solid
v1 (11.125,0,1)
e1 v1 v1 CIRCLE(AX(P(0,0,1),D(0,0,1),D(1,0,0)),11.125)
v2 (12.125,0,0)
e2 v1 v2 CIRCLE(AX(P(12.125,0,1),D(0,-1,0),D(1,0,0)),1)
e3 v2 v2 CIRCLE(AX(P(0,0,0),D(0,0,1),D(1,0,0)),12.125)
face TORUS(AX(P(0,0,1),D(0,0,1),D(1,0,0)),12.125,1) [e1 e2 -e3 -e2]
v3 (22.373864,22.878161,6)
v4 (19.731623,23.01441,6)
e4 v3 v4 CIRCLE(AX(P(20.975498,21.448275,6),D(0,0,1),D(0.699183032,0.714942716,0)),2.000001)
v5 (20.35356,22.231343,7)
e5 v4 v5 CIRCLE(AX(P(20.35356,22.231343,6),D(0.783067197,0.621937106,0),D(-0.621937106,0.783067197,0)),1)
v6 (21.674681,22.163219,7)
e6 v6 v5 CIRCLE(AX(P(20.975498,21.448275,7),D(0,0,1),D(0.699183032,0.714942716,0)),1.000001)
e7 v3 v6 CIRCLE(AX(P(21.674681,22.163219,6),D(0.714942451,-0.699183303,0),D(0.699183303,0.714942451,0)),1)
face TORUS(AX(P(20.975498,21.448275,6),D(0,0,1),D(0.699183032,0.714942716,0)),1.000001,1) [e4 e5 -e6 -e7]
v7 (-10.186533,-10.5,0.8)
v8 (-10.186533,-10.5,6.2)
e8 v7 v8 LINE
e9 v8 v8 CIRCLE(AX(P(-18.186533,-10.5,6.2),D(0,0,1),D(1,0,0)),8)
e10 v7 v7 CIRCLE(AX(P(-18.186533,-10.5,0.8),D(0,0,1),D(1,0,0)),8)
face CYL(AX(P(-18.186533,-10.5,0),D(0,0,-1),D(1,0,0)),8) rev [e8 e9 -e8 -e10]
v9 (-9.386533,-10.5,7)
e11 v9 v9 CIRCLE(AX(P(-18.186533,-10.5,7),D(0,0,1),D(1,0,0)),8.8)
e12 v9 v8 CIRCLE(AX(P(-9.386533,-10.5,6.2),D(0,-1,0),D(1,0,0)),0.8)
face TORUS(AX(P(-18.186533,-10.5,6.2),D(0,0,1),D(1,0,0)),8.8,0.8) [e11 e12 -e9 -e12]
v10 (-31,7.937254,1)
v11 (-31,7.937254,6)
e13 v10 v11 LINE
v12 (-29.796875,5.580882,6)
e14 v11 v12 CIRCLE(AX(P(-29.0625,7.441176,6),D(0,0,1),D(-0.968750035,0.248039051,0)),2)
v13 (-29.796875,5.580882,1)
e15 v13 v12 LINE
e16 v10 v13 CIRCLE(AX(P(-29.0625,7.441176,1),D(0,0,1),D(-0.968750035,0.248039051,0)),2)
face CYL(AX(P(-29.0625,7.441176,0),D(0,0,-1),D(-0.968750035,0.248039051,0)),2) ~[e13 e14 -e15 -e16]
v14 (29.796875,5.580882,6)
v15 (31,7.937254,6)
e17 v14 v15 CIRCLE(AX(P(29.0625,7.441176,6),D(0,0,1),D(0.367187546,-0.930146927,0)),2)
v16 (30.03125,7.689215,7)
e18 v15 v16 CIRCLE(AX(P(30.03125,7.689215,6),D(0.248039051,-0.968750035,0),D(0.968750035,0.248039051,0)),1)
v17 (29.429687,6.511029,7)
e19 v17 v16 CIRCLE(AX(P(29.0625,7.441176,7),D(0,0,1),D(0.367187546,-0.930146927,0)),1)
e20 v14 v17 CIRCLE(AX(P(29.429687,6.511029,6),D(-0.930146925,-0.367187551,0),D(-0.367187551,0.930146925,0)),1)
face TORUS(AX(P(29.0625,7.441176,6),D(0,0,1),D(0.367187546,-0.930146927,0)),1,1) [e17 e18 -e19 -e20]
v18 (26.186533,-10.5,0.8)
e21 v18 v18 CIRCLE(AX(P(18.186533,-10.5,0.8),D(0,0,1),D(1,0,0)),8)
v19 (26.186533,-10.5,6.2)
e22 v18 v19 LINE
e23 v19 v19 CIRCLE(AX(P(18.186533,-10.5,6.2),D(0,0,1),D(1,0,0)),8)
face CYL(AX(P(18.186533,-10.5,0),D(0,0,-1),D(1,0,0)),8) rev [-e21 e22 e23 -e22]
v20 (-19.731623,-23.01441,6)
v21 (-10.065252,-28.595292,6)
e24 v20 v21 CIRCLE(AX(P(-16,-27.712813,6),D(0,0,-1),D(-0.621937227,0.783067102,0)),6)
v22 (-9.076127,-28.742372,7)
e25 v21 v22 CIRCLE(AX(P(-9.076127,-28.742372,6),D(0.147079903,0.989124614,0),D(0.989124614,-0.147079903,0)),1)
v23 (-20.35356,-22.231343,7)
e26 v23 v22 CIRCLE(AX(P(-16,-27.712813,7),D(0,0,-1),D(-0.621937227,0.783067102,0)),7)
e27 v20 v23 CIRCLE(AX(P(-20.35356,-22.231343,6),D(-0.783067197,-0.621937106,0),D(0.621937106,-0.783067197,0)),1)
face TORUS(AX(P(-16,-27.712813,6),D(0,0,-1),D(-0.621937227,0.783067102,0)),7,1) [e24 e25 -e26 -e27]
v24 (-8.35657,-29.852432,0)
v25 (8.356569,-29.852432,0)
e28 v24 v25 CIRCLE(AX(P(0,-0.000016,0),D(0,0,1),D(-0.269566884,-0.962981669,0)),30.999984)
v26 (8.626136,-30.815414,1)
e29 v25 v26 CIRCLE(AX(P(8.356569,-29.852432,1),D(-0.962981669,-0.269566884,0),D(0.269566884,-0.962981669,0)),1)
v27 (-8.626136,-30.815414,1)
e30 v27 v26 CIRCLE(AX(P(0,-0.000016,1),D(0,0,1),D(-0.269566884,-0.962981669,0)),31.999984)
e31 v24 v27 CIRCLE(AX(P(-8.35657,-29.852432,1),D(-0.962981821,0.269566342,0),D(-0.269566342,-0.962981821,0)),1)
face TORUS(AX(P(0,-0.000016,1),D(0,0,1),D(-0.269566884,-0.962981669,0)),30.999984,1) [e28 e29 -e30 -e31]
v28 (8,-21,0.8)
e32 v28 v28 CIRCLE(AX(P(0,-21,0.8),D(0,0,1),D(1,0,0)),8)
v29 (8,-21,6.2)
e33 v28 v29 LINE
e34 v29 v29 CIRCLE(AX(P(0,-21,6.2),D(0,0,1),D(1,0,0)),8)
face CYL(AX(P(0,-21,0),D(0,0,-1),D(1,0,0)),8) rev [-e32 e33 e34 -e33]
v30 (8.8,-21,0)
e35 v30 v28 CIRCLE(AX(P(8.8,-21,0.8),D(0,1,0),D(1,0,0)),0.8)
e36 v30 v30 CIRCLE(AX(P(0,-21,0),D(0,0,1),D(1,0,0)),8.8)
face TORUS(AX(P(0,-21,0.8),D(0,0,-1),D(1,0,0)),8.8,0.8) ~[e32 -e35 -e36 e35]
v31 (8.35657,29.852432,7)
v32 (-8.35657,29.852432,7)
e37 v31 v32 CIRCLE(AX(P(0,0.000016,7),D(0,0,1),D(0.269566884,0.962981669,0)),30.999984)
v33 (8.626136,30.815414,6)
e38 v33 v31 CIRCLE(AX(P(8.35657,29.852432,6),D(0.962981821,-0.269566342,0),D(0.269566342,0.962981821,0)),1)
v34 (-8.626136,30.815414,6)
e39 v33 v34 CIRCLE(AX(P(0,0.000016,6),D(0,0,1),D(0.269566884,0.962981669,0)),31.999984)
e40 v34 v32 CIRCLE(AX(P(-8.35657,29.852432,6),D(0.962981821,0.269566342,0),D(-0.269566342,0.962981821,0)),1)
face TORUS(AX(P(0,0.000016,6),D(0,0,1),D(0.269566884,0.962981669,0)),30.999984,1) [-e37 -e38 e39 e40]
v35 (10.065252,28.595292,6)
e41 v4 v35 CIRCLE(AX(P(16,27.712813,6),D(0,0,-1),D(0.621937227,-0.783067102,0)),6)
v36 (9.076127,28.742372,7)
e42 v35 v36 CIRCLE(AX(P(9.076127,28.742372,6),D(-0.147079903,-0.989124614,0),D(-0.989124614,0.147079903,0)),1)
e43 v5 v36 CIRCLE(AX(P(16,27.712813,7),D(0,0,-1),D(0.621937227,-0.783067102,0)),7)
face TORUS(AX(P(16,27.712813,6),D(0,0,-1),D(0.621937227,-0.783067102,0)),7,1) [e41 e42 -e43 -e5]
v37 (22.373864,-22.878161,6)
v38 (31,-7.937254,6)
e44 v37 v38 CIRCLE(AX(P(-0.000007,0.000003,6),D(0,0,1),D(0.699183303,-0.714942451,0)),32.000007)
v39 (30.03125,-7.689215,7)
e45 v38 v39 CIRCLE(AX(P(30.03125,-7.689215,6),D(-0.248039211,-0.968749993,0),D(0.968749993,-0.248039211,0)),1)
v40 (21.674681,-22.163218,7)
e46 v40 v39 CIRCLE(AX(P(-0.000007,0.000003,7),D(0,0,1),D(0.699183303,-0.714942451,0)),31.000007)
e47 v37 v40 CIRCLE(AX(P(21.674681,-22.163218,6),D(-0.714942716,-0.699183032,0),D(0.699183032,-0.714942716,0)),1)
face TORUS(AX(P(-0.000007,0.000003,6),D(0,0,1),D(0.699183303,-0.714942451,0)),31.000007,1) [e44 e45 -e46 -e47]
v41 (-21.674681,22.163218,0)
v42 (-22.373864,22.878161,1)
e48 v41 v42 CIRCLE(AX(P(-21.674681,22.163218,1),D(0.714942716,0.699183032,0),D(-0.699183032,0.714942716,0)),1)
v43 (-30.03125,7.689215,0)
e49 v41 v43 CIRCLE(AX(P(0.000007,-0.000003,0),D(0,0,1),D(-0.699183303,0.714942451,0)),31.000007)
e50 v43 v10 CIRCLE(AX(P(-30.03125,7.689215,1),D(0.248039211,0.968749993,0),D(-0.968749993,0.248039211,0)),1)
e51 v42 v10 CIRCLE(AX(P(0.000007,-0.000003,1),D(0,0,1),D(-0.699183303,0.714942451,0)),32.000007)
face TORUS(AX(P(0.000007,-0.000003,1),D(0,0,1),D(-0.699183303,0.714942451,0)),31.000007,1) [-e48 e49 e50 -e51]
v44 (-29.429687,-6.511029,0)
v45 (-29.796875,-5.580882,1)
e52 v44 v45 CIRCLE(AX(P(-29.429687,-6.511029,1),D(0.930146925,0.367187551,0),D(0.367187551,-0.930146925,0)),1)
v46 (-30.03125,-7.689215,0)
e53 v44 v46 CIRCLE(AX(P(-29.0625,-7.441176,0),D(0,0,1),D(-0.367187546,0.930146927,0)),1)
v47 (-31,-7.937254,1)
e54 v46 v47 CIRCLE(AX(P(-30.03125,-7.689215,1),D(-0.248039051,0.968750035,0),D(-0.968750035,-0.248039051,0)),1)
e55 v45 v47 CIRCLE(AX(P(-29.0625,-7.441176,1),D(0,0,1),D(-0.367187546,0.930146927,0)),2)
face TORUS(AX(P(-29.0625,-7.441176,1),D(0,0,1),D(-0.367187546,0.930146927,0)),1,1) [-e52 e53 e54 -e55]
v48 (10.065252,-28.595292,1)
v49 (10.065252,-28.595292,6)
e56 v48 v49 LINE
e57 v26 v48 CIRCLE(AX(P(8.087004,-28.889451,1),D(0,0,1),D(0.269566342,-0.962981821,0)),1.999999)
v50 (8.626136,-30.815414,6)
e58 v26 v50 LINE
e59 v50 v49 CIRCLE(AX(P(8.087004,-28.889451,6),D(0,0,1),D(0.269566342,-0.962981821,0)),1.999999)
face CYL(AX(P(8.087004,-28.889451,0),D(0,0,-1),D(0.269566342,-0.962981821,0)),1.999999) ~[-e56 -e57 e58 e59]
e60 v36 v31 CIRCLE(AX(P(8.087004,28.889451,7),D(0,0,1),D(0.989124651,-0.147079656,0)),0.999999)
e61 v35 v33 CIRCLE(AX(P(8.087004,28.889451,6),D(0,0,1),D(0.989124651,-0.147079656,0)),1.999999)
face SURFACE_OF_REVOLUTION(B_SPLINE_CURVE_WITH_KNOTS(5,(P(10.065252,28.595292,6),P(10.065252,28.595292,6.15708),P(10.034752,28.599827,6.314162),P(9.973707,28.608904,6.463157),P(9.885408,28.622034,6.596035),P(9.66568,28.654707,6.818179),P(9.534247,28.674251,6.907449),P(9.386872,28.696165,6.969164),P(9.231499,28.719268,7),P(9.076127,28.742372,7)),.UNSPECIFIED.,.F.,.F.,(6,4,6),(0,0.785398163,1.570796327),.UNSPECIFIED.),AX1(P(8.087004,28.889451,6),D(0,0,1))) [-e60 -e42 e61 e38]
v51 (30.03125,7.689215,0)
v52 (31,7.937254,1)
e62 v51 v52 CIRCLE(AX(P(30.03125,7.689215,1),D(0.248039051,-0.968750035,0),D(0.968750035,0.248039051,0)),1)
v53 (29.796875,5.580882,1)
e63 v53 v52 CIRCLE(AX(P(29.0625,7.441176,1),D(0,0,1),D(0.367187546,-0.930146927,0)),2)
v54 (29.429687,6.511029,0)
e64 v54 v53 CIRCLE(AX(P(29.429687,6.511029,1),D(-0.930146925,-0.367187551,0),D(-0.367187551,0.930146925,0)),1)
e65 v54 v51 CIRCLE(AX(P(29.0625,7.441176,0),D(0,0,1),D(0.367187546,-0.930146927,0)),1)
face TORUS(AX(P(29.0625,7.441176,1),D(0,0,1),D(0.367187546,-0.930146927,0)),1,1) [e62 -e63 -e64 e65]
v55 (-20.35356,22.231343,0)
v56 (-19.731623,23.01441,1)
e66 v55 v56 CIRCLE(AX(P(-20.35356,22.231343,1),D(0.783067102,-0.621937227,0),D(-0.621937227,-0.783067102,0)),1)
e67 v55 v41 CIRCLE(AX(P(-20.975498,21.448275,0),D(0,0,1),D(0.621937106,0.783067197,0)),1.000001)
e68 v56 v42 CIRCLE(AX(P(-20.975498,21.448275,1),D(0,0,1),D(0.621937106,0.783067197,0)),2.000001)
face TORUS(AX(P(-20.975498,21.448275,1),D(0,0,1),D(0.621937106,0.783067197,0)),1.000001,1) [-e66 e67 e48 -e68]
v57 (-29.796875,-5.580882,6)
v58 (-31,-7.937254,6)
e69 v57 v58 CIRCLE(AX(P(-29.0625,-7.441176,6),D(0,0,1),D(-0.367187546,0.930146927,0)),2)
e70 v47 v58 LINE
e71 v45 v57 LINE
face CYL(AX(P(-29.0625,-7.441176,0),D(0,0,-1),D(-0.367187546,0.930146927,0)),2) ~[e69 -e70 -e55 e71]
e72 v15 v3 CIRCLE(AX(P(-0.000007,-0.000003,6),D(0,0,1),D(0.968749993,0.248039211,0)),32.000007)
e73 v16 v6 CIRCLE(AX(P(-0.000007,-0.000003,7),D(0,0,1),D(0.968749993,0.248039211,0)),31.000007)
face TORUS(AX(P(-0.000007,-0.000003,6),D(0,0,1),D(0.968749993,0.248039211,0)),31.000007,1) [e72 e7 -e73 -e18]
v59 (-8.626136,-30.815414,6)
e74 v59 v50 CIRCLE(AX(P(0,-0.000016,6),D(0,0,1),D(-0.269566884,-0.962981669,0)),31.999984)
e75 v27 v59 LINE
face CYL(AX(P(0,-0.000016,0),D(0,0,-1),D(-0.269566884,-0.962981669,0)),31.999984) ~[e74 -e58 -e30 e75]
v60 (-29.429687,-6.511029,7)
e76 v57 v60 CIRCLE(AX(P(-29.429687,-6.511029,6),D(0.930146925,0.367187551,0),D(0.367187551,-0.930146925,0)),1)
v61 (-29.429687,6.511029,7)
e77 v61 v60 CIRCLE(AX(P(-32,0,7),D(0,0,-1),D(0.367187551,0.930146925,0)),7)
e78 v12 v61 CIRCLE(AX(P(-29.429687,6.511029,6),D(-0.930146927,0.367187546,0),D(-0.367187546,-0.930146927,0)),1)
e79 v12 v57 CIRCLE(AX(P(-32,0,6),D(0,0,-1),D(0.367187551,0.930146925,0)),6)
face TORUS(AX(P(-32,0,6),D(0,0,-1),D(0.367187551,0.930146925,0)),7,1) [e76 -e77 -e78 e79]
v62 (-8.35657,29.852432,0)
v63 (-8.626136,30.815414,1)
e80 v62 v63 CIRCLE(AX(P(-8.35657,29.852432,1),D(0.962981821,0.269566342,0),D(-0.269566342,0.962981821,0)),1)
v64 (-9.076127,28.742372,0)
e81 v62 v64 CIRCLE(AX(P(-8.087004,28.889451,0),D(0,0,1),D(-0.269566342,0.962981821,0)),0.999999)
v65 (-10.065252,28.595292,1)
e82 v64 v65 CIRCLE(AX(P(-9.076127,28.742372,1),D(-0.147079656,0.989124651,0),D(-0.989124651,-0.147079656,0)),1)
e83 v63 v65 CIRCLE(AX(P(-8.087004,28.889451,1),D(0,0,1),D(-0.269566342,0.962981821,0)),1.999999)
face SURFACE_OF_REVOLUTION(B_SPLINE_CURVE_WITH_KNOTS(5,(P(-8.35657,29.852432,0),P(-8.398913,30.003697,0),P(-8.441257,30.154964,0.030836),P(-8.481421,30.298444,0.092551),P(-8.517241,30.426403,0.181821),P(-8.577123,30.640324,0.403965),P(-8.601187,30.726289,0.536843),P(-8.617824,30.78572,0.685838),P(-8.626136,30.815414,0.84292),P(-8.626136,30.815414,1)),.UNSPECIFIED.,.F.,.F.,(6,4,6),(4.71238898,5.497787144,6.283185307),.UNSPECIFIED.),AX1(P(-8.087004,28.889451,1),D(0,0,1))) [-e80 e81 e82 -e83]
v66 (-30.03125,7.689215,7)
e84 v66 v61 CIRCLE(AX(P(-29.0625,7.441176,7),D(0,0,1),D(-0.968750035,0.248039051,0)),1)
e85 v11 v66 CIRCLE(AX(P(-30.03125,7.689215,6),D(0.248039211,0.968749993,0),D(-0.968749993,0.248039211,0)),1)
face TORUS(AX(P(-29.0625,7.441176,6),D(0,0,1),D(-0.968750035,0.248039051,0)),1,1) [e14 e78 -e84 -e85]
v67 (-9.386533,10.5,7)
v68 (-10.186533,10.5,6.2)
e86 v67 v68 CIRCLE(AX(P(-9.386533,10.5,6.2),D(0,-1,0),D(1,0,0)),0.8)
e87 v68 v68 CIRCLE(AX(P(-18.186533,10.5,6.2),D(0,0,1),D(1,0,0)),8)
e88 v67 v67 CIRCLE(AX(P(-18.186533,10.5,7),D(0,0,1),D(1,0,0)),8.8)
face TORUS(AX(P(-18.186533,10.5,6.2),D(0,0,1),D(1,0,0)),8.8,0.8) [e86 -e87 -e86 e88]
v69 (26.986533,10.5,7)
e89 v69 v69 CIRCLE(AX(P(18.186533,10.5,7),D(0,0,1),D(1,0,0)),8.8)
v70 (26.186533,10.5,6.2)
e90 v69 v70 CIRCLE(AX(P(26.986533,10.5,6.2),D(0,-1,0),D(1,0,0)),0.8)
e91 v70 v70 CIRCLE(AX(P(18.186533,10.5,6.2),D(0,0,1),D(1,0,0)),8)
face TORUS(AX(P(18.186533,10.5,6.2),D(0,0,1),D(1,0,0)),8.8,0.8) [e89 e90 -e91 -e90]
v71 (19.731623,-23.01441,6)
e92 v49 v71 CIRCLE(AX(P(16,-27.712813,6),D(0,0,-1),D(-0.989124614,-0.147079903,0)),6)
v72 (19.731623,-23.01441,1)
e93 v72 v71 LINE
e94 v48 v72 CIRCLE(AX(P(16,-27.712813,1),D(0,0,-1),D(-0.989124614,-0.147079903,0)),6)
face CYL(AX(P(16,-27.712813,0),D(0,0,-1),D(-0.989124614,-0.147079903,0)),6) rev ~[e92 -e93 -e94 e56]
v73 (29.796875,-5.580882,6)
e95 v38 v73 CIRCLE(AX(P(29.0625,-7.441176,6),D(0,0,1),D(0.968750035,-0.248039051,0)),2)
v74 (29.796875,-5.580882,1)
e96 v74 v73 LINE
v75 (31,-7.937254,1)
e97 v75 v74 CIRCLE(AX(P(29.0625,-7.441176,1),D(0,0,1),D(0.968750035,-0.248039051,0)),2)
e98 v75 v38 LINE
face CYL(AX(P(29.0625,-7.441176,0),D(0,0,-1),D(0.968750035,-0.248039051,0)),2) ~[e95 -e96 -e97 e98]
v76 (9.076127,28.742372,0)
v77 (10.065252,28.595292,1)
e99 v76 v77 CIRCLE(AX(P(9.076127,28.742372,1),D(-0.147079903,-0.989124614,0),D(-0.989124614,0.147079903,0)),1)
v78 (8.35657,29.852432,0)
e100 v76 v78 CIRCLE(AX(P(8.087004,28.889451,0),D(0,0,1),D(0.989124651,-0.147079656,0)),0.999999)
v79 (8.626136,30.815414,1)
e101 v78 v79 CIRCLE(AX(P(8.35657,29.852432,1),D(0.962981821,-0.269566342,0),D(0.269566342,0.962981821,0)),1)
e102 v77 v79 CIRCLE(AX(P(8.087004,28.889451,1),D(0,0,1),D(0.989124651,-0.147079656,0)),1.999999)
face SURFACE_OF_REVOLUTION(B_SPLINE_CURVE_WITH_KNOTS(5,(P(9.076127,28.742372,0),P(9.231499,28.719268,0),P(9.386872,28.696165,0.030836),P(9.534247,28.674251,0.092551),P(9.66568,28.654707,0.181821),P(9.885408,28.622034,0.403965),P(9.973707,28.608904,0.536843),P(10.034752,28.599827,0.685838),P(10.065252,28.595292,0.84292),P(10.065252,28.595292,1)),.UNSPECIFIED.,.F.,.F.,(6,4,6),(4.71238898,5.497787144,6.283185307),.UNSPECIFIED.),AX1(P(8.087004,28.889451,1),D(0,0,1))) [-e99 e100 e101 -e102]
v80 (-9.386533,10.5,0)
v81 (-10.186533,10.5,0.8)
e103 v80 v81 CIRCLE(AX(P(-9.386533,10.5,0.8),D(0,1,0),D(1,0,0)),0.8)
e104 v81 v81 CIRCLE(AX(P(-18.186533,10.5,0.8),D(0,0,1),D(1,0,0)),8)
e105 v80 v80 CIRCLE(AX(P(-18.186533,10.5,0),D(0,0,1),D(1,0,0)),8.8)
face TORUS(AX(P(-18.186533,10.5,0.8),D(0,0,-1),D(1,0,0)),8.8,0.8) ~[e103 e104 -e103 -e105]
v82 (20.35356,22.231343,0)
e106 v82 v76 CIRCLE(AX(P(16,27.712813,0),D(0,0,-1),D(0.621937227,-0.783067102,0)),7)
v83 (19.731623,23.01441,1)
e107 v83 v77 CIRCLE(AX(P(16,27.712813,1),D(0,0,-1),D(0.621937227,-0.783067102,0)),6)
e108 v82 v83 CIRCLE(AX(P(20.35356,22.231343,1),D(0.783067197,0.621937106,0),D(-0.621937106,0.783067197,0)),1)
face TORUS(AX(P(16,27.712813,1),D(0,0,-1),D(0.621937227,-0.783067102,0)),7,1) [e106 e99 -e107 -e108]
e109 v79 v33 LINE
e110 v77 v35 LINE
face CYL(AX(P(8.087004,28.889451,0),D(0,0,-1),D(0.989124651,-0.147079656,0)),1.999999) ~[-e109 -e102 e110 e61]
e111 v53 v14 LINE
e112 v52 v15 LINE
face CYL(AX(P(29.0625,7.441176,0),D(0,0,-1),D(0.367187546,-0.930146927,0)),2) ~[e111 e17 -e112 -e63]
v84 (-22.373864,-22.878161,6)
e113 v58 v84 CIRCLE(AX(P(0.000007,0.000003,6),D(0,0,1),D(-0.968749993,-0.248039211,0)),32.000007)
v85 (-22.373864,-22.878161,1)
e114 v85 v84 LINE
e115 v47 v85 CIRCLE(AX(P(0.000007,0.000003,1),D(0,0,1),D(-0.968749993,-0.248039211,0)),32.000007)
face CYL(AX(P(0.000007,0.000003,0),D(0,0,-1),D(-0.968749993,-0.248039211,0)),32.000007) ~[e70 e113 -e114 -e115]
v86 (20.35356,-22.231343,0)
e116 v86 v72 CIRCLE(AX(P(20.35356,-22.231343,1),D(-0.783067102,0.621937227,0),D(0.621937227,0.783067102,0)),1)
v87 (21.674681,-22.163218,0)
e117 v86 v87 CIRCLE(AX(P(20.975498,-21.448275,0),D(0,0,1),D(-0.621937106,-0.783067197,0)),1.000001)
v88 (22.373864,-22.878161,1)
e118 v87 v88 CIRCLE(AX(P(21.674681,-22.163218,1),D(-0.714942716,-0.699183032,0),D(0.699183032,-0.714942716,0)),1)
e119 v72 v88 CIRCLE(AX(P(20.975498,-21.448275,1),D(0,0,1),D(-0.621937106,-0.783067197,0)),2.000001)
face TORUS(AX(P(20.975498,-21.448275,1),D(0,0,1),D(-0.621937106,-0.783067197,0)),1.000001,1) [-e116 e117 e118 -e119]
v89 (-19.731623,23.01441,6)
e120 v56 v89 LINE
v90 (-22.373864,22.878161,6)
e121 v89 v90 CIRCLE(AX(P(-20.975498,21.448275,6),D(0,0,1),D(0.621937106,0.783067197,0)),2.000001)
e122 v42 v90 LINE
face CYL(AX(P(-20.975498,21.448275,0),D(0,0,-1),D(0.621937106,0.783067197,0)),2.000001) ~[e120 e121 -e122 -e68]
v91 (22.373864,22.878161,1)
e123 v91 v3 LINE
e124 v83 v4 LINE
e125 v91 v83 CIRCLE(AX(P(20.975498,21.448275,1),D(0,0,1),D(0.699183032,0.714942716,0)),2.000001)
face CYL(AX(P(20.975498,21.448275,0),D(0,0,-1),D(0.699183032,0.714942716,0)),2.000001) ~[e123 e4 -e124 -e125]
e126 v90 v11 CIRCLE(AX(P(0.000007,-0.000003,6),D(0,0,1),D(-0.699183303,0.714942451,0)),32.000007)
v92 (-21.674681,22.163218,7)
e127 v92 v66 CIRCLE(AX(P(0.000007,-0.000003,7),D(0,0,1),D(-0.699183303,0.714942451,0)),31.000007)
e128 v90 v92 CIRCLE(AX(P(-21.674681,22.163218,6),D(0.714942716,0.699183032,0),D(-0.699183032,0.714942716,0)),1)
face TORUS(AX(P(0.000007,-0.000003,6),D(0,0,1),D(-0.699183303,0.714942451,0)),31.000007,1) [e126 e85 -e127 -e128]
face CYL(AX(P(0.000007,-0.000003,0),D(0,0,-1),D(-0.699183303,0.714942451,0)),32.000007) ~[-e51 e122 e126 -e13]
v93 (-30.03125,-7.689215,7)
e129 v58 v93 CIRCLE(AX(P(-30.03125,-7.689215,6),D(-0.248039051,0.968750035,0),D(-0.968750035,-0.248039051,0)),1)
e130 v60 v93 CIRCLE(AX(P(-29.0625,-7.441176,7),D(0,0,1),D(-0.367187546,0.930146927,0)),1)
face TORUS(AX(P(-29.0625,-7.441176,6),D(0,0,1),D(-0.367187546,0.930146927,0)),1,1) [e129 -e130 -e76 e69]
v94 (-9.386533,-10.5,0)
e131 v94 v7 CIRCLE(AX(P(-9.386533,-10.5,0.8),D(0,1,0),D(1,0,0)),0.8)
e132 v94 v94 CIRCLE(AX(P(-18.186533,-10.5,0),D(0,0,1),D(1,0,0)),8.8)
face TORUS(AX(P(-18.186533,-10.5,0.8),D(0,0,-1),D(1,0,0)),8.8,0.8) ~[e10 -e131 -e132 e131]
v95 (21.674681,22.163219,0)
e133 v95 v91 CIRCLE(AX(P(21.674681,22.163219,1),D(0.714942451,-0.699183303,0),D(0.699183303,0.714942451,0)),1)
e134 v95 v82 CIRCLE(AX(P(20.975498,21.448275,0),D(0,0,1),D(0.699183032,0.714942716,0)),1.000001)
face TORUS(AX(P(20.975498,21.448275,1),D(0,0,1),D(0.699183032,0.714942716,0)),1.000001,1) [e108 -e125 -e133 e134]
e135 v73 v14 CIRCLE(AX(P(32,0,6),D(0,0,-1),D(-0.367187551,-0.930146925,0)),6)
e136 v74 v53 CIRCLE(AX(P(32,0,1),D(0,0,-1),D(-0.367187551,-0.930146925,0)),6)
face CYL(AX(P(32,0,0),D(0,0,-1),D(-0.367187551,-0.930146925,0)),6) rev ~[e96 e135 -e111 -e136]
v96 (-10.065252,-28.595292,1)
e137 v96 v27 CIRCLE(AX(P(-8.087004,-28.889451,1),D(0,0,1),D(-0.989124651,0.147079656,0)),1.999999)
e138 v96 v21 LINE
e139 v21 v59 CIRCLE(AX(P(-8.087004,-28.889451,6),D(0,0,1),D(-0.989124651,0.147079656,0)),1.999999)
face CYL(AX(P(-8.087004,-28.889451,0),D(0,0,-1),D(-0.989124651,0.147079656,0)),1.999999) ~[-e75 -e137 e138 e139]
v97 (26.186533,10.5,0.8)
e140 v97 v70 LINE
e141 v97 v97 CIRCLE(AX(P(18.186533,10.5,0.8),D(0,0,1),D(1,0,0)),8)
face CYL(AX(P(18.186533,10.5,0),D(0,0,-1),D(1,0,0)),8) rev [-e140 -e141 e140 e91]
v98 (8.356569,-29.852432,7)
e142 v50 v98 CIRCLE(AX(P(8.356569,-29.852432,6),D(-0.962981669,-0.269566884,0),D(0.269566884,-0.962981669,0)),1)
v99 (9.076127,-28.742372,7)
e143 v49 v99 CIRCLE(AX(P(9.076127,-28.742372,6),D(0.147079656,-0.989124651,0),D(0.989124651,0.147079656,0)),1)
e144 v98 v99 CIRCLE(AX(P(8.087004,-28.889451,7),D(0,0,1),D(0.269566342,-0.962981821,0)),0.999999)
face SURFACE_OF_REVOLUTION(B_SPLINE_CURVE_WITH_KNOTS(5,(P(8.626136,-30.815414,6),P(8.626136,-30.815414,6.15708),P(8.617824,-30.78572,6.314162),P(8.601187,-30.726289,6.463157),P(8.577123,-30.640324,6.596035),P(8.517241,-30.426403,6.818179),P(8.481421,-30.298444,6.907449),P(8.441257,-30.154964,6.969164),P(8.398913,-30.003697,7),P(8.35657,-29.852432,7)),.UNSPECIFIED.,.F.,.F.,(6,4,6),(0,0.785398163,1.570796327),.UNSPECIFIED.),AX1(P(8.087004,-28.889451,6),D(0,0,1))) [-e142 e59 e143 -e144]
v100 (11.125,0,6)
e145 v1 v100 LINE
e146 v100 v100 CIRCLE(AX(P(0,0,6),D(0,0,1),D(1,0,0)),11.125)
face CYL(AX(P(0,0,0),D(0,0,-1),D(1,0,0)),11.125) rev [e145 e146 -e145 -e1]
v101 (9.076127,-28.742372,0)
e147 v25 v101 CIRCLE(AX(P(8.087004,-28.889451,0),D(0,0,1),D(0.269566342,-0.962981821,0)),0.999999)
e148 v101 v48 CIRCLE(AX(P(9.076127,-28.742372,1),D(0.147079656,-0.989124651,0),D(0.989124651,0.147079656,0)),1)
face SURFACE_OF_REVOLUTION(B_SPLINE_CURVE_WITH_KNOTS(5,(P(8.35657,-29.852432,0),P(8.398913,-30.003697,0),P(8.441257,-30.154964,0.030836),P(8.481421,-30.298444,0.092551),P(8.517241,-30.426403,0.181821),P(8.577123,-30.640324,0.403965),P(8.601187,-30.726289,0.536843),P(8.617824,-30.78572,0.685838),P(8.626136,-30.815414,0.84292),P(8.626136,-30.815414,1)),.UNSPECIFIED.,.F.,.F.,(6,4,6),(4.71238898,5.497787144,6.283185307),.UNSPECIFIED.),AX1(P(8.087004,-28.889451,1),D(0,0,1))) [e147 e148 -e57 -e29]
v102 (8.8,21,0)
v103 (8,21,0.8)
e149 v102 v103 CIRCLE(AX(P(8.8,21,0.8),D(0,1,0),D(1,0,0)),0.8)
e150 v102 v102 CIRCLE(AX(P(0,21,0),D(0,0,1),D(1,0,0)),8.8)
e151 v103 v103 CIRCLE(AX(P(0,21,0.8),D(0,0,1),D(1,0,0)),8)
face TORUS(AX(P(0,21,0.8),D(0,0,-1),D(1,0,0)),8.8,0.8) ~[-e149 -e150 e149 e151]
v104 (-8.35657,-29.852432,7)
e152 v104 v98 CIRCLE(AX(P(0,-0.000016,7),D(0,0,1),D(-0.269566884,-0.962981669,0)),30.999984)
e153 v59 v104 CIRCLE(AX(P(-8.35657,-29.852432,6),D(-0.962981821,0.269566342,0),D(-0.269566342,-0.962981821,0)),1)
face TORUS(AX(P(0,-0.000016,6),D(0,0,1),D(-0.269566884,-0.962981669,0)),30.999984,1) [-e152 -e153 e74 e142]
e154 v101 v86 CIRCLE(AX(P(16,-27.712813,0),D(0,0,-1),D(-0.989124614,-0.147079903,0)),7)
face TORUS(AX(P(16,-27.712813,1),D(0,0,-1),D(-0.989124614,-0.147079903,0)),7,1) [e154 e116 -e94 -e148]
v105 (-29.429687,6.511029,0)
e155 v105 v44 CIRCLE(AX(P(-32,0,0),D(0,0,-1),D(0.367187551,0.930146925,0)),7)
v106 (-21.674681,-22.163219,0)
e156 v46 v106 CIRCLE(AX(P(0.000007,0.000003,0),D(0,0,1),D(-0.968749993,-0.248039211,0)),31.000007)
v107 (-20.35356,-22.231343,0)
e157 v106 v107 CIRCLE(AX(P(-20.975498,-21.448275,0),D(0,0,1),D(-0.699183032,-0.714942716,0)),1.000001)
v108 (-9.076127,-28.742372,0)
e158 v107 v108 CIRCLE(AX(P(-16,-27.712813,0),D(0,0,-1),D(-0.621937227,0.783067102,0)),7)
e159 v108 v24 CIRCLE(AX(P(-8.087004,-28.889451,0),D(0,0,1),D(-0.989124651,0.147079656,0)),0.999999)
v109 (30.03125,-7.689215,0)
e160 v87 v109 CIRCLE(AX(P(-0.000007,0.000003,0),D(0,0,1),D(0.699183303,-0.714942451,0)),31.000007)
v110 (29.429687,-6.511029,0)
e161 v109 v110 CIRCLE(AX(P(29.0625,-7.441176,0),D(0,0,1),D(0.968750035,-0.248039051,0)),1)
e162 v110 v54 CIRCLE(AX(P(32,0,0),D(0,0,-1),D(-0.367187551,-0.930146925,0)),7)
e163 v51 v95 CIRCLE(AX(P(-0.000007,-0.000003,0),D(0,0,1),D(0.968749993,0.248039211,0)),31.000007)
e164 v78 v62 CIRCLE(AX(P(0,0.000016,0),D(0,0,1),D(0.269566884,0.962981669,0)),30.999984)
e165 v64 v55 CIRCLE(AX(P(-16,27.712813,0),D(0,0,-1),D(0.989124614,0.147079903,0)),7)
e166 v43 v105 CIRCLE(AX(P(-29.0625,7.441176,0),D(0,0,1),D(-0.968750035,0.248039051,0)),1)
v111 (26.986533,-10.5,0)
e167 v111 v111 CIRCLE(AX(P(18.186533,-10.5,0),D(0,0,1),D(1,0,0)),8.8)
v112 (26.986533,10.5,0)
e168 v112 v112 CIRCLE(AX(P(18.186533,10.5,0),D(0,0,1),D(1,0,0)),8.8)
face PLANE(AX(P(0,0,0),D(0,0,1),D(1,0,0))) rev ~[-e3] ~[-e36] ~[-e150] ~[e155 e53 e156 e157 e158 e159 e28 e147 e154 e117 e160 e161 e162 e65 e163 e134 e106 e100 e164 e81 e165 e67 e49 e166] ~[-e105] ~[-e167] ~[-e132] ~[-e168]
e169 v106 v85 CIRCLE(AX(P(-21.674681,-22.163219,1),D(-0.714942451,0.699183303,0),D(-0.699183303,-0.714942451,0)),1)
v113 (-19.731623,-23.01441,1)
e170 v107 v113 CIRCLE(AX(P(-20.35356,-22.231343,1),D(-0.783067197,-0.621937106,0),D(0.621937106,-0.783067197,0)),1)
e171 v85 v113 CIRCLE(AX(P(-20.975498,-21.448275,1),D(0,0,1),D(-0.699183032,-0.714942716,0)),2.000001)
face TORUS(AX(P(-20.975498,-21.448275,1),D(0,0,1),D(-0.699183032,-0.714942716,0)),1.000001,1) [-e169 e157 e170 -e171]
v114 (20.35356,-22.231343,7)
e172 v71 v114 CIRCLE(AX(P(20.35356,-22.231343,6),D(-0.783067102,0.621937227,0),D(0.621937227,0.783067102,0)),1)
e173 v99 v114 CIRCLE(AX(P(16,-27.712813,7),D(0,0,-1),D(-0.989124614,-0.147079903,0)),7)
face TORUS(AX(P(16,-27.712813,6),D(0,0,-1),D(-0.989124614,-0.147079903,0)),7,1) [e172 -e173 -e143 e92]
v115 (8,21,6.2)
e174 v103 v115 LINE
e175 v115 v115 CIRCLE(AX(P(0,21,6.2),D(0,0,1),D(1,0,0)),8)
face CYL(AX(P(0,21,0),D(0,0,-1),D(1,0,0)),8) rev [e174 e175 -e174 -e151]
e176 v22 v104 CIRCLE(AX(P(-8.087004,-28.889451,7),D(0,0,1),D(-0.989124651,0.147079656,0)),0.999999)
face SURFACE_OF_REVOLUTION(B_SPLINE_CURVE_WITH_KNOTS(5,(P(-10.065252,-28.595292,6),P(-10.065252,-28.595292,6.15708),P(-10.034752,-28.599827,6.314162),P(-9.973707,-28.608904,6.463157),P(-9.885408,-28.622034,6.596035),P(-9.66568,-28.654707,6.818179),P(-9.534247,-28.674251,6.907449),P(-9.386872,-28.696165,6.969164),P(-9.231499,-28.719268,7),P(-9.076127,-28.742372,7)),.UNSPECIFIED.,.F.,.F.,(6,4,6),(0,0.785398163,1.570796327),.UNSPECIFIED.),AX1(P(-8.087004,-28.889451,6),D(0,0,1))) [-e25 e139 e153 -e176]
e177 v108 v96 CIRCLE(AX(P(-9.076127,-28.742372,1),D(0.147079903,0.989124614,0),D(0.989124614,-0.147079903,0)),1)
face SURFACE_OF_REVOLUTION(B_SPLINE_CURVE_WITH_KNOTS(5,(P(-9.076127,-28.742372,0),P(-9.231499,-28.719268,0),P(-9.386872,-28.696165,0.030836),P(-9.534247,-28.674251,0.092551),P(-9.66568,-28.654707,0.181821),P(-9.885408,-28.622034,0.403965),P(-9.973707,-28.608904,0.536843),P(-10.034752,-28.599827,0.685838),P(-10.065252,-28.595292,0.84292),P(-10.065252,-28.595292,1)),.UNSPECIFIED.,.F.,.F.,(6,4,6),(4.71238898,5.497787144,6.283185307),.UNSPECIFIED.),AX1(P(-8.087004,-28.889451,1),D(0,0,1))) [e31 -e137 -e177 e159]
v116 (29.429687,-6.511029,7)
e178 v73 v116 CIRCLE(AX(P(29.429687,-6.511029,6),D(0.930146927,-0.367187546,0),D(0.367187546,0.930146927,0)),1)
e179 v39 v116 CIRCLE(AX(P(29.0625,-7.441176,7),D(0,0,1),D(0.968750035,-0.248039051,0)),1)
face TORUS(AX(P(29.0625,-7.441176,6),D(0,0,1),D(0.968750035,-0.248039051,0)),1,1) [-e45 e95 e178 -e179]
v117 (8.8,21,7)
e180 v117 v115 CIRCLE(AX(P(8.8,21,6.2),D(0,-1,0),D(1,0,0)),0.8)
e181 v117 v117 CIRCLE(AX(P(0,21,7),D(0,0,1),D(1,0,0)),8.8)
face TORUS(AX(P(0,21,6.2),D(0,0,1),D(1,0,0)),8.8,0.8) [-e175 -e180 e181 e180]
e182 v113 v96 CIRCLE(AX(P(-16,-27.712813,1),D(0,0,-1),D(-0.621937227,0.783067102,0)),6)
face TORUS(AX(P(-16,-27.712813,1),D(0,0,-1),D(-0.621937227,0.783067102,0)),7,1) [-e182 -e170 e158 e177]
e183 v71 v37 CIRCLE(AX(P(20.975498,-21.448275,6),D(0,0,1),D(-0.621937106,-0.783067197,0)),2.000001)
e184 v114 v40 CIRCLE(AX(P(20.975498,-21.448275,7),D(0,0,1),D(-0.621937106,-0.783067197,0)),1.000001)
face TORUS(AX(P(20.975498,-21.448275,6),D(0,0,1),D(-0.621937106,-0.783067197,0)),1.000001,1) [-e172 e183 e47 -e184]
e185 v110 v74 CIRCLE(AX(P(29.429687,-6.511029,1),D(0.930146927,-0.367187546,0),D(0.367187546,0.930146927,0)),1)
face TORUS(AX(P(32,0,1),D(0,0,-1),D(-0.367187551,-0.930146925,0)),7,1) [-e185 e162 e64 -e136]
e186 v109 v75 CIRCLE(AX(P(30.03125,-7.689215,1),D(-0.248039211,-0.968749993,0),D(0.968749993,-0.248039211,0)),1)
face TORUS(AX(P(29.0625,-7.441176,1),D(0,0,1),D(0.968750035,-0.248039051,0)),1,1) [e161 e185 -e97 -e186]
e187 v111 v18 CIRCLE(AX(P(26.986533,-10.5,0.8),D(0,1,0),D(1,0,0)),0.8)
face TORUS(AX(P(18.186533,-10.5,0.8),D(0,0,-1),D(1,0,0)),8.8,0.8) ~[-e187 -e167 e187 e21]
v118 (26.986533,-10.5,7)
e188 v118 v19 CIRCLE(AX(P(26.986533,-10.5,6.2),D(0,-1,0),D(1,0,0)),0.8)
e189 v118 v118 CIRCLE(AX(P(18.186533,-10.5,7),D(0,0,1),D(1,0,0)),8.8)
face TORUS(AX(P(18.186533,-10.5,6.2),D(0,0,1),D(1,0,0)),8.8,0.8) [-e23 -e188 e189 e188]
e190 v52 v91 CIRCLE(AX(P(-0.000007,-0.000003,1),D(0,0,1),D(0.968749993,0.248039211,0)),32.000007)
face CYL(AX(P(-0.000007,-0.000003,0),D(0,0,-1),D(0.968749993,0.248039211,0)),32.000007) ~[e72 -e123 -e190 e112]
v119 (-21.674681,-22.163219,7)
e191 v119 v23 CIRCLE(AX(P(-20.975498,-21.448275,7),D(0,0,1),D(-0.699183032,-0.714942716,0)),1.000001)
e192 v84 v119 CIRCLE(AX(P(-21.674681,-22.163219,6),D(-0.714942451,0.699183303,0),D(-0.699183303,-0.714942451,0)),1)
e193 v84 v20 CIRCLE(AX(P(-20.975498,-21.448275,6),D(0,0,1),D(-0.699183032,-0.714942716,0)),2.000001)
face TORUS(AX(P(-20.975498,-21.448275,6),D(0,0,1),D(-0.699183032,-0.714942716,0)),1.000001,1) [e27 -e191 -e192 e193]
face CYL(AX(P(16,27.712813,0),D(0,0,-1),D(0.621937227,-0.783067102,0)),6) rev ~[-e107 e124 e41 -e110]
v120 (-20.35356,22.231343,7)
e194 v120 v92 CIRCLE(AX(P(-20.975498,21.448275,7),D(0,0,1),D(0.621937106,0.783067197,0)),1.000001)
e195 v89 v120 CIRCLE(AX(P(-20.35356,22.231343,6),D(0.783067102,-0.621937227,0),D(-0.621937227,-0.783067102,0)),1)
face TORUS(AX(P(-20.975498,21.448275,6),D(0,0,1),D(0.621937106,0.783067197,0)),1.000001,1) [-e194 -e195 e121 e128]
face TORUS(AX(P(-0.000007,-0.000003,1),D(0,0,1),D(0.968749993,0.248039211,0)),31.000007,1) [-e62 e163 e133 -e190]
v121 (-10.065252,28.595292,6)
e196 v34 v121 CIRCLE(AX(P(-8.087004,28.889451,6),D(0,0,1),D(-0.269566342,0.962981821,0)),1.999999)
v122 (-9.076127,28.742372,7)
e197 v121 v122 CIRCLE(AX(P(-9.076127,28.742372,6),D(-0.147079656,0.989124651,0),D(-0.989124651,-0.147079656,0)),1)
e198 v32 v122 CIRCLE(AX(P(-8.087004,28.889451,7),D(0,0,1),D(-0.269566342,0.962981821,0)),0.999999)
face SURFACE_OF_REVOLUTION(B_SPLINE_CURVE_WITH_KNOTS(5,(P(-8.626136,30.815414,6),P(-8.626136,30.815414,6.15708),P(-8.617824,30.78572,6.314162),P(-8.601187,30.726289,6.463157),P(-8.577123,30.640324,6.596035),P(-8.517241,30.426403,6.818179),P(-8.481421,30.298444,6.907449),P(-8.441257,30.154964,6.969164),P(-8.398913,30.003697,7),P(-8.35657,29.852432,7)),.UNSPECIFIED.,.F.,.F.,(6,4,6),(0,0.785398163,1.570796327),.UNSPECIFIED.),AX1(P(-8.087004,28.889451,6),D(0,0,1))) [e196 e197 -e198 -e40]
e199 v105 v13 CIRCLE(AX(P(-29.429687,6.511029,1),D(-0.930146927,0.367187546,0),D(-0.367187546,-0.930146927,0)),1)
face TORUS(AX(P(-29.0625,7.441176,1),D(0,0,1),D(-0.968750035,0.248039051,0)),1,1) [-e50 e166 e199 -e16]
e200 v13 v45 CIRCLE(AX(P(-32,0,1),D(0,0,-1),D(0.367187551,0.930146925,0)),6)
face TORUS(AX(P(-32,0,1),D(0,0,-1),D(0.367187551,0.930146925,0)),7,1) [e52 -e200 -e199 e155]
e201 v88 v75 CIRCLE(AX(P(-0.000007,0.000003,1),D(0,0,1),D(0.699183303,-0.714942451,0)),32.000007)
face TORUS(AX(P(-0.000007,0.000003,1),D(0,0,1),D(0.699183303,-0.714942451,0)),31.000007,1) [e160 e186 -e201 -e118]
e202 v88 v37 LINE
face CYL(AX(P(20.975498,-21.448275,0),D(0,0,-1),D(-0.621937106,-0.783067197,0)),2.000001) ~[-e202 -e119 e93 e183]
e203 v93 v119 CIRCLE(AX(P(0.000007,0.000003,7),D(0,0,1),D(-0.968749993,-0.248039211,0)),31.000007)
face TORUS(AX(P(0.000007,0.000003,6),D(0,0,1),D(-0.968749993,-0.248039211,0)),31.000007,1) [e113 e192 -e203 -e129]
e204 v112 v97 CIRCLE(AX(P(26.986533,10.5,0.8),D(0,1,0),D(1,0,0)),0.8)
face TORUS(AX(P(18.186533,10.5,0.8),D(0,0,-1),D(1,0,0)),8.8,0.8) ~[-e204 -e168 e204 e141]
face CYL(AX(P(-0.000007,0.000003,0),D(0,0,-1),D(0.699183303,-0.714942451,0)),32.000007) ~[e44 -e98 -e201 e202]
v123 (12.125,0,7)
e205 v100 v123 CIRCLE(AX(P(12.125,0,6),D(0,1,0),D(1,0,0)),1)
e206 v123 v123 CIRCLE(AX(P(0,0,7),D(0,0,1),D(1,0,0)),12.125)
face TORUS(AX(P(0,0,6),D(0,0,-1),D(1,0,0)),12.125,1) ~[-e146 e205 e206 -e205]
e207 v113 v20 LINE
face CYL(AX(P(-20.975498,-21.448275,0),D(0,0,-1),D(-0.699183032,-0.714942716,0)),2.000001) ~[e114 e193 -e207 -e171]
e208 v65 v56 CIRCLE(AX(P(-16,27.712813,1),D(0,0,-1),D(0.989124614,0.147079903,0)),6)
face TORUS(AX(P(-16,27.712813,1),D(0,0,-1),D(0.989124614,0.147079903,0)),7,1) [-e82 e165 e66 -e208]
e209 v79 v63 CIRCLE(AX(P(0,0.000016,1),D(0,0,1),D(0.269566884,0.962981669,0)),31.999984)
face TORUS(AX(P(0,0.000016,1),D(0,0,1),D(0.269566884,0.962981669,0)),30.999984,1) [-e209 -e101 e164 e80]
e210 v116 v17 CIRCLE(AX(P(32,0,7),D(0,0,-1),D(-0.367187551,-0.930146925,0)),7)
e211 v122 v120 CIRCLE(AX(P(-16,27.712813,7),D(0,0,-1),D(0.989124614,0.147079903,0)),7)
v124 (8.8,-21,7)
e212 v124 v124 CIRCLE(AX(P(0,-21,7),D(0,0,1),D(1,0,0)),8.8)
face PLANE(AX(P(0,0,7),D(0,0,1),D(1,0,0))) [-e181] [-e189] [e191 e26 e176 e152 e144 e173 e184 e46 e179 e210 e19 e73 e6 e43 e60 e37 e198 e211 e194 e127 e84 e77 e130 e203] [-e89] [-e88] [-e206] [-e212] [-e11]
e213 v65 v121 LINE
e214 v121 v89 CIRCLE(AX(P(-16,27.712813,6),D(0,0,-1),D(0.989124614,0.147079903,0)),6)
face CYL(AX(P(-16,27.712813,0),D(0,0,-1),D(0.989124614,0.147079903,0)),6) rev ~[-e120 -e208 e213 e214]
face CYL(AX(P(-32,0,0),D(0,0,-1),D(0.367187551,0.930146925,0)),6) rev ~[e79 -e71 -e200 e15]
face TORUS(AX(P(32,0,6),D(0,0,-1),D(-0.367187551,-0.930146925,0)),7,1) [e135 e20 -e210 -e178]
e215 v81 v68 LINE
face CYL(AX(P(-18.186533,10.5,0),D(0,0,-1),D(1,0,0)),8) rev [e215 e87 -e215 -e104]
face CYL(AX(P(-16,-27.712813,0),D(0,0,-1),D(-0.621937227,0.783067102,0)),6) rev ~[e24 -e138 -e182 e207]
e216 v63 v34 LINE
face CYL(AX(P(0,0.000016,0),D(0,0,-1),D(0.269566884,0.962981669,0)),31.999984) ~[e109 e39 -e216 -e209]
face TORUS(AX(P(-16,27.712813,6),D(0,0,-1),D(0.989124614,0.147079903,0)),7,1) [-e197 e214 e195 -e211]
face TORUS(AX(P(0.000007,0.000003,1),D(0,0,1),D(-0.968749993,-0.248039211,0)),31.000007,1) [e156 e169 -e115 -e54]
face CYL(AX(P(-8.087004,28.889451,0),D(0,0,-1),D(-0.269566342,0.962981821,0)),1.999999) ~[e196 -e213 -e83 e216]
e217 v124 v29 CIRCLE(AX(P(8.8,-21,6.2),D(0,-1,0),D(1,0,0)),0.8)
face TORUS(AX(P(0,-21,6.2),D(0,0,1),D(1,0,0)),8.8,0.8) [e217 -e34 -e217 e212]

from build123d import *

# Parameters (mm, degrees)
F0_R     = 8
F0_R_2   = 11.125
F1_DEPTH = 7
F2_R     = 1
F3_R     = 0.8
F4_R     = 1


with BuildPart() as f1:
    # F0 (on Top) → F1 (new body)
    with BuildSketch(Plane.XY):
        with BuildLine():
            ThreePointArc((-19.731623, 23.01441), (-21.078492, 23.445622), (-22.373864, 22.878161))
            ThreePointArc((-22.373864, 22.878161), (-27.712813, 16), (-31, 7.937254))
            ThreePointArc((-31, 7.937254), (-30.84375, 6.531699), (-29.796875, 5.580882))
            ThreePointArc((-29.796875, 5.580882), (-26, 0), (-29.796875, -5.580882))
            ThreePointArc((-29.796875, -5.580882), (-30.84375, -6.531699), (-31, -7.937254))
            ThreePointArc((-31, -7.937254), (-27.712813, -16), (-22.373864, -22.878161))
            ThreePointArc((-22.373864, -22.878161), (-21.078492, -23.445622), (-19.731623, -23.01441))
            ThreePointArc((-19.731623, -23.01441), (-13, -22.51666), (-10.065252, -28.595292))
            ThreePointArc((-10.065252, -28.595292), (-9.765258, -29.97732), (-8.626136, -30.815414))
            ThreePointArc((-8.626136, -30.815414), (0, -32), (8.626136, -30.815414))
            ThreePointArc((8.626136, -30.815414), (9.765258, -29.97732), (10.065252, -28.595292))
            ThreePointArc((10.065252, -28.595292), (13, -22.51666), (19.731623, -23.01441))
            ThreePointArc((19.731623, -23.01441), (21.078492, -23.445622), (22.373864, -22.878161))
            ThreePointArc((22.373864, -22.878161), (27.712813, -16), (31, -7.937254))
            ThreePointArc((31, -7.937254), (30.84375, -6.531699), (29.796875, -5.580882))
            ThreePointArc((29.796875, -5.580882), (26, 0), (29.796875, 5.580882))
            ThreePointArc((29.796875, 5.580882), (30.84375, 6.531699), (31, 7.937254))
            ThreePointArc((31, 7.937254), (27.712813, 16), (22.373864, 22.878161))
            ThreePointArc((22.373864, 22.878161), (21.078492, 23.445622), (19.731623, 23.01441))
            ThreePointArc((19.731623, 23.01441), (13, 22.51666), (10.065252, 28.595292))
            ThreePointArc((10.065252, 28.595292), (9.765258, 29.97732), (8.626136, 30.815414))
            ThreePointArc((8.626136, 30.815414), (0, 32), (-8.626136, 30.815414))
            ThreePointArc((-8.626136, 30.815414), (-9.765258, 29.97732), (-10.065252, 28.595292))
            ThreePointArc((-10.065252, 28.595292), (-13, 22.51666), (-19.731623, 23.01441))
        make_face()
        with Locations((-18.186533, -10.5)):
            Circle(F0_R, mode=Mode.SUBTRACT)
        with Locations((0, -21)):
            Circle(F0_R, mode=Mode.SUBTRACT)
        with Locations((18.186533, -10.5)):
            Circle(F0_R, mode=Mode.SUBTRACT)
        with Locations((-18.186533, 10.5)):
            Circle(F0_R, mode=Mode.SUBTRACT)
        Circle(F0_R_2, mode=Mode.SUBTRACT)
        with Locations((18.186533, 10.5)):
            Circle(F0_R, mode=Mode.SUBTRACT)
        with Locations((0, 21)):
            Circle(F0_R, mode=Mode.SUBTRACT)
    extrude(amount=F1_DEPTH)

    # F2
    f2_edges = [f1.edges().sort_by_distance(p)[0] for p in [
        (11.125, 0, 3.5),
        (-11.125, 0, 0),
        (-11.125, 0, 7),
    ]]
    fillet(f2_edges, radius=F2_R)

    # F3
    f3_edges = [f1.edges().sort_by_distance(p)[0] for p in [
        (8, 21, 3.5),
        (-8, 21, 0),
        (-8, 21, 7),
        (26.186533, 10.5, 3.5),
        (10.186533, 10.5, 0),
        (10.186533, 10.5, 7),
        (26.186533, -10.5, 3.5),
        (10.186533, -10.5, 0),
        (10.186533, -10.5, 7),
        (8, -21, 3.5),
        (-8, -21, 0),
        (-8, -21, 7),
        (-10.186533, -10.5, 3.5),
        (-26.186533, -10.5, 0),
        (-26.186533, -10.5, 7),
        (-10.186533, 10.5, 3.5),
        (-26.186533, 10.5, 0),
        (-26.186533, 10.5, 7),
    ]]
    fillet(f3_edges, radius=F3_R)

    # F4
    f4_edges = [f1.edges().sort_by_distance(p)[0] for p in [
        (-8.8, 21, 7),
        (-12.125, 0, 7),
        (-9.765258, 29.97732, 7),
        (-13, 22.51666, 7),
        (-21.078492, 23.445622, 7),
        (-27.712813, 16, 7),
        (-30.84375, 6.531699, 7),
        (-26, 0, 7),
        (-30.84375, -6.531699, 7),
        (-27.712813, -16, 7),
        (-21.078492, -23.445622, 7),
        (-13, -22.51666, 7),
        (-9.765258, -29.97732, 7),
        (0, -32, 7),
        (9.765258, -29.97732, 7),
        (13, -22.51666, 7),
        (21.078492, -23.445622, 7),
        (27.712813, -16, 7),
        (30.84375, -6.531699, 7),
        (26, 0, 7),
        (30.84375, 6.531699, 7),
        (27.712813, 16, 7),
        (21.078492, 23.445622, 7),
        (13, 22.51666, 7),
        (9.765258, 29.97732, 7),
        (0, 32, 7),
        (9.386533, 10.5, 7),
        (9.386533, -10.5, 7),
        (-8.8, -21, 7),
        (-26.986533, -10.5, 7),
        (-26.986533, 10.5, 7),
        (-8.8, 21, 0),
        (-12.125, 0, 0),
        (-9.765258, 29.97732, 0),
        (-13, 22.51666, 0),
        (-21.078492, 23.445622, 0),
        (-27.712813, 16, 0),
        (-30.84375, 6.531699, 0),
        (-26, 0, 0),
        (-30.84375, -6.531699, 0),
        (-27.712813, -16, 0),
        (-21.078492, -23.445622, 0),
        (-13, -22.51666, 0),
        (-9.765258, -29.97732, 0),
        (0, -32, 0),
        (9.765258, -29.97732, 0),
        (13, -22.51666, 0),
        (21.078492, -23.445622, 0),
        (27.712813, -16, 0),
        (30.84375, -6.531699, 0),
        (26, 0, 0),
        (30.84375, 6.531699, 0),
        (27.712813, 16, 0),
        (21.078492, 23.445622, 0),
        (13, 22.51666, 0),
        (9.765258, 29.97732, 0),
        (0, 32, 0),
        (9.386533, 10.5, 0),
        (9.386533, -10.5, 0),
        (-8.8, -21, 0),
        (-26.986533, -10.5, 0),
        (-26.986533, 10.5, 0),
    ]]
    fillet(f4_edges, radius=F4_R)


solid = f1.part
